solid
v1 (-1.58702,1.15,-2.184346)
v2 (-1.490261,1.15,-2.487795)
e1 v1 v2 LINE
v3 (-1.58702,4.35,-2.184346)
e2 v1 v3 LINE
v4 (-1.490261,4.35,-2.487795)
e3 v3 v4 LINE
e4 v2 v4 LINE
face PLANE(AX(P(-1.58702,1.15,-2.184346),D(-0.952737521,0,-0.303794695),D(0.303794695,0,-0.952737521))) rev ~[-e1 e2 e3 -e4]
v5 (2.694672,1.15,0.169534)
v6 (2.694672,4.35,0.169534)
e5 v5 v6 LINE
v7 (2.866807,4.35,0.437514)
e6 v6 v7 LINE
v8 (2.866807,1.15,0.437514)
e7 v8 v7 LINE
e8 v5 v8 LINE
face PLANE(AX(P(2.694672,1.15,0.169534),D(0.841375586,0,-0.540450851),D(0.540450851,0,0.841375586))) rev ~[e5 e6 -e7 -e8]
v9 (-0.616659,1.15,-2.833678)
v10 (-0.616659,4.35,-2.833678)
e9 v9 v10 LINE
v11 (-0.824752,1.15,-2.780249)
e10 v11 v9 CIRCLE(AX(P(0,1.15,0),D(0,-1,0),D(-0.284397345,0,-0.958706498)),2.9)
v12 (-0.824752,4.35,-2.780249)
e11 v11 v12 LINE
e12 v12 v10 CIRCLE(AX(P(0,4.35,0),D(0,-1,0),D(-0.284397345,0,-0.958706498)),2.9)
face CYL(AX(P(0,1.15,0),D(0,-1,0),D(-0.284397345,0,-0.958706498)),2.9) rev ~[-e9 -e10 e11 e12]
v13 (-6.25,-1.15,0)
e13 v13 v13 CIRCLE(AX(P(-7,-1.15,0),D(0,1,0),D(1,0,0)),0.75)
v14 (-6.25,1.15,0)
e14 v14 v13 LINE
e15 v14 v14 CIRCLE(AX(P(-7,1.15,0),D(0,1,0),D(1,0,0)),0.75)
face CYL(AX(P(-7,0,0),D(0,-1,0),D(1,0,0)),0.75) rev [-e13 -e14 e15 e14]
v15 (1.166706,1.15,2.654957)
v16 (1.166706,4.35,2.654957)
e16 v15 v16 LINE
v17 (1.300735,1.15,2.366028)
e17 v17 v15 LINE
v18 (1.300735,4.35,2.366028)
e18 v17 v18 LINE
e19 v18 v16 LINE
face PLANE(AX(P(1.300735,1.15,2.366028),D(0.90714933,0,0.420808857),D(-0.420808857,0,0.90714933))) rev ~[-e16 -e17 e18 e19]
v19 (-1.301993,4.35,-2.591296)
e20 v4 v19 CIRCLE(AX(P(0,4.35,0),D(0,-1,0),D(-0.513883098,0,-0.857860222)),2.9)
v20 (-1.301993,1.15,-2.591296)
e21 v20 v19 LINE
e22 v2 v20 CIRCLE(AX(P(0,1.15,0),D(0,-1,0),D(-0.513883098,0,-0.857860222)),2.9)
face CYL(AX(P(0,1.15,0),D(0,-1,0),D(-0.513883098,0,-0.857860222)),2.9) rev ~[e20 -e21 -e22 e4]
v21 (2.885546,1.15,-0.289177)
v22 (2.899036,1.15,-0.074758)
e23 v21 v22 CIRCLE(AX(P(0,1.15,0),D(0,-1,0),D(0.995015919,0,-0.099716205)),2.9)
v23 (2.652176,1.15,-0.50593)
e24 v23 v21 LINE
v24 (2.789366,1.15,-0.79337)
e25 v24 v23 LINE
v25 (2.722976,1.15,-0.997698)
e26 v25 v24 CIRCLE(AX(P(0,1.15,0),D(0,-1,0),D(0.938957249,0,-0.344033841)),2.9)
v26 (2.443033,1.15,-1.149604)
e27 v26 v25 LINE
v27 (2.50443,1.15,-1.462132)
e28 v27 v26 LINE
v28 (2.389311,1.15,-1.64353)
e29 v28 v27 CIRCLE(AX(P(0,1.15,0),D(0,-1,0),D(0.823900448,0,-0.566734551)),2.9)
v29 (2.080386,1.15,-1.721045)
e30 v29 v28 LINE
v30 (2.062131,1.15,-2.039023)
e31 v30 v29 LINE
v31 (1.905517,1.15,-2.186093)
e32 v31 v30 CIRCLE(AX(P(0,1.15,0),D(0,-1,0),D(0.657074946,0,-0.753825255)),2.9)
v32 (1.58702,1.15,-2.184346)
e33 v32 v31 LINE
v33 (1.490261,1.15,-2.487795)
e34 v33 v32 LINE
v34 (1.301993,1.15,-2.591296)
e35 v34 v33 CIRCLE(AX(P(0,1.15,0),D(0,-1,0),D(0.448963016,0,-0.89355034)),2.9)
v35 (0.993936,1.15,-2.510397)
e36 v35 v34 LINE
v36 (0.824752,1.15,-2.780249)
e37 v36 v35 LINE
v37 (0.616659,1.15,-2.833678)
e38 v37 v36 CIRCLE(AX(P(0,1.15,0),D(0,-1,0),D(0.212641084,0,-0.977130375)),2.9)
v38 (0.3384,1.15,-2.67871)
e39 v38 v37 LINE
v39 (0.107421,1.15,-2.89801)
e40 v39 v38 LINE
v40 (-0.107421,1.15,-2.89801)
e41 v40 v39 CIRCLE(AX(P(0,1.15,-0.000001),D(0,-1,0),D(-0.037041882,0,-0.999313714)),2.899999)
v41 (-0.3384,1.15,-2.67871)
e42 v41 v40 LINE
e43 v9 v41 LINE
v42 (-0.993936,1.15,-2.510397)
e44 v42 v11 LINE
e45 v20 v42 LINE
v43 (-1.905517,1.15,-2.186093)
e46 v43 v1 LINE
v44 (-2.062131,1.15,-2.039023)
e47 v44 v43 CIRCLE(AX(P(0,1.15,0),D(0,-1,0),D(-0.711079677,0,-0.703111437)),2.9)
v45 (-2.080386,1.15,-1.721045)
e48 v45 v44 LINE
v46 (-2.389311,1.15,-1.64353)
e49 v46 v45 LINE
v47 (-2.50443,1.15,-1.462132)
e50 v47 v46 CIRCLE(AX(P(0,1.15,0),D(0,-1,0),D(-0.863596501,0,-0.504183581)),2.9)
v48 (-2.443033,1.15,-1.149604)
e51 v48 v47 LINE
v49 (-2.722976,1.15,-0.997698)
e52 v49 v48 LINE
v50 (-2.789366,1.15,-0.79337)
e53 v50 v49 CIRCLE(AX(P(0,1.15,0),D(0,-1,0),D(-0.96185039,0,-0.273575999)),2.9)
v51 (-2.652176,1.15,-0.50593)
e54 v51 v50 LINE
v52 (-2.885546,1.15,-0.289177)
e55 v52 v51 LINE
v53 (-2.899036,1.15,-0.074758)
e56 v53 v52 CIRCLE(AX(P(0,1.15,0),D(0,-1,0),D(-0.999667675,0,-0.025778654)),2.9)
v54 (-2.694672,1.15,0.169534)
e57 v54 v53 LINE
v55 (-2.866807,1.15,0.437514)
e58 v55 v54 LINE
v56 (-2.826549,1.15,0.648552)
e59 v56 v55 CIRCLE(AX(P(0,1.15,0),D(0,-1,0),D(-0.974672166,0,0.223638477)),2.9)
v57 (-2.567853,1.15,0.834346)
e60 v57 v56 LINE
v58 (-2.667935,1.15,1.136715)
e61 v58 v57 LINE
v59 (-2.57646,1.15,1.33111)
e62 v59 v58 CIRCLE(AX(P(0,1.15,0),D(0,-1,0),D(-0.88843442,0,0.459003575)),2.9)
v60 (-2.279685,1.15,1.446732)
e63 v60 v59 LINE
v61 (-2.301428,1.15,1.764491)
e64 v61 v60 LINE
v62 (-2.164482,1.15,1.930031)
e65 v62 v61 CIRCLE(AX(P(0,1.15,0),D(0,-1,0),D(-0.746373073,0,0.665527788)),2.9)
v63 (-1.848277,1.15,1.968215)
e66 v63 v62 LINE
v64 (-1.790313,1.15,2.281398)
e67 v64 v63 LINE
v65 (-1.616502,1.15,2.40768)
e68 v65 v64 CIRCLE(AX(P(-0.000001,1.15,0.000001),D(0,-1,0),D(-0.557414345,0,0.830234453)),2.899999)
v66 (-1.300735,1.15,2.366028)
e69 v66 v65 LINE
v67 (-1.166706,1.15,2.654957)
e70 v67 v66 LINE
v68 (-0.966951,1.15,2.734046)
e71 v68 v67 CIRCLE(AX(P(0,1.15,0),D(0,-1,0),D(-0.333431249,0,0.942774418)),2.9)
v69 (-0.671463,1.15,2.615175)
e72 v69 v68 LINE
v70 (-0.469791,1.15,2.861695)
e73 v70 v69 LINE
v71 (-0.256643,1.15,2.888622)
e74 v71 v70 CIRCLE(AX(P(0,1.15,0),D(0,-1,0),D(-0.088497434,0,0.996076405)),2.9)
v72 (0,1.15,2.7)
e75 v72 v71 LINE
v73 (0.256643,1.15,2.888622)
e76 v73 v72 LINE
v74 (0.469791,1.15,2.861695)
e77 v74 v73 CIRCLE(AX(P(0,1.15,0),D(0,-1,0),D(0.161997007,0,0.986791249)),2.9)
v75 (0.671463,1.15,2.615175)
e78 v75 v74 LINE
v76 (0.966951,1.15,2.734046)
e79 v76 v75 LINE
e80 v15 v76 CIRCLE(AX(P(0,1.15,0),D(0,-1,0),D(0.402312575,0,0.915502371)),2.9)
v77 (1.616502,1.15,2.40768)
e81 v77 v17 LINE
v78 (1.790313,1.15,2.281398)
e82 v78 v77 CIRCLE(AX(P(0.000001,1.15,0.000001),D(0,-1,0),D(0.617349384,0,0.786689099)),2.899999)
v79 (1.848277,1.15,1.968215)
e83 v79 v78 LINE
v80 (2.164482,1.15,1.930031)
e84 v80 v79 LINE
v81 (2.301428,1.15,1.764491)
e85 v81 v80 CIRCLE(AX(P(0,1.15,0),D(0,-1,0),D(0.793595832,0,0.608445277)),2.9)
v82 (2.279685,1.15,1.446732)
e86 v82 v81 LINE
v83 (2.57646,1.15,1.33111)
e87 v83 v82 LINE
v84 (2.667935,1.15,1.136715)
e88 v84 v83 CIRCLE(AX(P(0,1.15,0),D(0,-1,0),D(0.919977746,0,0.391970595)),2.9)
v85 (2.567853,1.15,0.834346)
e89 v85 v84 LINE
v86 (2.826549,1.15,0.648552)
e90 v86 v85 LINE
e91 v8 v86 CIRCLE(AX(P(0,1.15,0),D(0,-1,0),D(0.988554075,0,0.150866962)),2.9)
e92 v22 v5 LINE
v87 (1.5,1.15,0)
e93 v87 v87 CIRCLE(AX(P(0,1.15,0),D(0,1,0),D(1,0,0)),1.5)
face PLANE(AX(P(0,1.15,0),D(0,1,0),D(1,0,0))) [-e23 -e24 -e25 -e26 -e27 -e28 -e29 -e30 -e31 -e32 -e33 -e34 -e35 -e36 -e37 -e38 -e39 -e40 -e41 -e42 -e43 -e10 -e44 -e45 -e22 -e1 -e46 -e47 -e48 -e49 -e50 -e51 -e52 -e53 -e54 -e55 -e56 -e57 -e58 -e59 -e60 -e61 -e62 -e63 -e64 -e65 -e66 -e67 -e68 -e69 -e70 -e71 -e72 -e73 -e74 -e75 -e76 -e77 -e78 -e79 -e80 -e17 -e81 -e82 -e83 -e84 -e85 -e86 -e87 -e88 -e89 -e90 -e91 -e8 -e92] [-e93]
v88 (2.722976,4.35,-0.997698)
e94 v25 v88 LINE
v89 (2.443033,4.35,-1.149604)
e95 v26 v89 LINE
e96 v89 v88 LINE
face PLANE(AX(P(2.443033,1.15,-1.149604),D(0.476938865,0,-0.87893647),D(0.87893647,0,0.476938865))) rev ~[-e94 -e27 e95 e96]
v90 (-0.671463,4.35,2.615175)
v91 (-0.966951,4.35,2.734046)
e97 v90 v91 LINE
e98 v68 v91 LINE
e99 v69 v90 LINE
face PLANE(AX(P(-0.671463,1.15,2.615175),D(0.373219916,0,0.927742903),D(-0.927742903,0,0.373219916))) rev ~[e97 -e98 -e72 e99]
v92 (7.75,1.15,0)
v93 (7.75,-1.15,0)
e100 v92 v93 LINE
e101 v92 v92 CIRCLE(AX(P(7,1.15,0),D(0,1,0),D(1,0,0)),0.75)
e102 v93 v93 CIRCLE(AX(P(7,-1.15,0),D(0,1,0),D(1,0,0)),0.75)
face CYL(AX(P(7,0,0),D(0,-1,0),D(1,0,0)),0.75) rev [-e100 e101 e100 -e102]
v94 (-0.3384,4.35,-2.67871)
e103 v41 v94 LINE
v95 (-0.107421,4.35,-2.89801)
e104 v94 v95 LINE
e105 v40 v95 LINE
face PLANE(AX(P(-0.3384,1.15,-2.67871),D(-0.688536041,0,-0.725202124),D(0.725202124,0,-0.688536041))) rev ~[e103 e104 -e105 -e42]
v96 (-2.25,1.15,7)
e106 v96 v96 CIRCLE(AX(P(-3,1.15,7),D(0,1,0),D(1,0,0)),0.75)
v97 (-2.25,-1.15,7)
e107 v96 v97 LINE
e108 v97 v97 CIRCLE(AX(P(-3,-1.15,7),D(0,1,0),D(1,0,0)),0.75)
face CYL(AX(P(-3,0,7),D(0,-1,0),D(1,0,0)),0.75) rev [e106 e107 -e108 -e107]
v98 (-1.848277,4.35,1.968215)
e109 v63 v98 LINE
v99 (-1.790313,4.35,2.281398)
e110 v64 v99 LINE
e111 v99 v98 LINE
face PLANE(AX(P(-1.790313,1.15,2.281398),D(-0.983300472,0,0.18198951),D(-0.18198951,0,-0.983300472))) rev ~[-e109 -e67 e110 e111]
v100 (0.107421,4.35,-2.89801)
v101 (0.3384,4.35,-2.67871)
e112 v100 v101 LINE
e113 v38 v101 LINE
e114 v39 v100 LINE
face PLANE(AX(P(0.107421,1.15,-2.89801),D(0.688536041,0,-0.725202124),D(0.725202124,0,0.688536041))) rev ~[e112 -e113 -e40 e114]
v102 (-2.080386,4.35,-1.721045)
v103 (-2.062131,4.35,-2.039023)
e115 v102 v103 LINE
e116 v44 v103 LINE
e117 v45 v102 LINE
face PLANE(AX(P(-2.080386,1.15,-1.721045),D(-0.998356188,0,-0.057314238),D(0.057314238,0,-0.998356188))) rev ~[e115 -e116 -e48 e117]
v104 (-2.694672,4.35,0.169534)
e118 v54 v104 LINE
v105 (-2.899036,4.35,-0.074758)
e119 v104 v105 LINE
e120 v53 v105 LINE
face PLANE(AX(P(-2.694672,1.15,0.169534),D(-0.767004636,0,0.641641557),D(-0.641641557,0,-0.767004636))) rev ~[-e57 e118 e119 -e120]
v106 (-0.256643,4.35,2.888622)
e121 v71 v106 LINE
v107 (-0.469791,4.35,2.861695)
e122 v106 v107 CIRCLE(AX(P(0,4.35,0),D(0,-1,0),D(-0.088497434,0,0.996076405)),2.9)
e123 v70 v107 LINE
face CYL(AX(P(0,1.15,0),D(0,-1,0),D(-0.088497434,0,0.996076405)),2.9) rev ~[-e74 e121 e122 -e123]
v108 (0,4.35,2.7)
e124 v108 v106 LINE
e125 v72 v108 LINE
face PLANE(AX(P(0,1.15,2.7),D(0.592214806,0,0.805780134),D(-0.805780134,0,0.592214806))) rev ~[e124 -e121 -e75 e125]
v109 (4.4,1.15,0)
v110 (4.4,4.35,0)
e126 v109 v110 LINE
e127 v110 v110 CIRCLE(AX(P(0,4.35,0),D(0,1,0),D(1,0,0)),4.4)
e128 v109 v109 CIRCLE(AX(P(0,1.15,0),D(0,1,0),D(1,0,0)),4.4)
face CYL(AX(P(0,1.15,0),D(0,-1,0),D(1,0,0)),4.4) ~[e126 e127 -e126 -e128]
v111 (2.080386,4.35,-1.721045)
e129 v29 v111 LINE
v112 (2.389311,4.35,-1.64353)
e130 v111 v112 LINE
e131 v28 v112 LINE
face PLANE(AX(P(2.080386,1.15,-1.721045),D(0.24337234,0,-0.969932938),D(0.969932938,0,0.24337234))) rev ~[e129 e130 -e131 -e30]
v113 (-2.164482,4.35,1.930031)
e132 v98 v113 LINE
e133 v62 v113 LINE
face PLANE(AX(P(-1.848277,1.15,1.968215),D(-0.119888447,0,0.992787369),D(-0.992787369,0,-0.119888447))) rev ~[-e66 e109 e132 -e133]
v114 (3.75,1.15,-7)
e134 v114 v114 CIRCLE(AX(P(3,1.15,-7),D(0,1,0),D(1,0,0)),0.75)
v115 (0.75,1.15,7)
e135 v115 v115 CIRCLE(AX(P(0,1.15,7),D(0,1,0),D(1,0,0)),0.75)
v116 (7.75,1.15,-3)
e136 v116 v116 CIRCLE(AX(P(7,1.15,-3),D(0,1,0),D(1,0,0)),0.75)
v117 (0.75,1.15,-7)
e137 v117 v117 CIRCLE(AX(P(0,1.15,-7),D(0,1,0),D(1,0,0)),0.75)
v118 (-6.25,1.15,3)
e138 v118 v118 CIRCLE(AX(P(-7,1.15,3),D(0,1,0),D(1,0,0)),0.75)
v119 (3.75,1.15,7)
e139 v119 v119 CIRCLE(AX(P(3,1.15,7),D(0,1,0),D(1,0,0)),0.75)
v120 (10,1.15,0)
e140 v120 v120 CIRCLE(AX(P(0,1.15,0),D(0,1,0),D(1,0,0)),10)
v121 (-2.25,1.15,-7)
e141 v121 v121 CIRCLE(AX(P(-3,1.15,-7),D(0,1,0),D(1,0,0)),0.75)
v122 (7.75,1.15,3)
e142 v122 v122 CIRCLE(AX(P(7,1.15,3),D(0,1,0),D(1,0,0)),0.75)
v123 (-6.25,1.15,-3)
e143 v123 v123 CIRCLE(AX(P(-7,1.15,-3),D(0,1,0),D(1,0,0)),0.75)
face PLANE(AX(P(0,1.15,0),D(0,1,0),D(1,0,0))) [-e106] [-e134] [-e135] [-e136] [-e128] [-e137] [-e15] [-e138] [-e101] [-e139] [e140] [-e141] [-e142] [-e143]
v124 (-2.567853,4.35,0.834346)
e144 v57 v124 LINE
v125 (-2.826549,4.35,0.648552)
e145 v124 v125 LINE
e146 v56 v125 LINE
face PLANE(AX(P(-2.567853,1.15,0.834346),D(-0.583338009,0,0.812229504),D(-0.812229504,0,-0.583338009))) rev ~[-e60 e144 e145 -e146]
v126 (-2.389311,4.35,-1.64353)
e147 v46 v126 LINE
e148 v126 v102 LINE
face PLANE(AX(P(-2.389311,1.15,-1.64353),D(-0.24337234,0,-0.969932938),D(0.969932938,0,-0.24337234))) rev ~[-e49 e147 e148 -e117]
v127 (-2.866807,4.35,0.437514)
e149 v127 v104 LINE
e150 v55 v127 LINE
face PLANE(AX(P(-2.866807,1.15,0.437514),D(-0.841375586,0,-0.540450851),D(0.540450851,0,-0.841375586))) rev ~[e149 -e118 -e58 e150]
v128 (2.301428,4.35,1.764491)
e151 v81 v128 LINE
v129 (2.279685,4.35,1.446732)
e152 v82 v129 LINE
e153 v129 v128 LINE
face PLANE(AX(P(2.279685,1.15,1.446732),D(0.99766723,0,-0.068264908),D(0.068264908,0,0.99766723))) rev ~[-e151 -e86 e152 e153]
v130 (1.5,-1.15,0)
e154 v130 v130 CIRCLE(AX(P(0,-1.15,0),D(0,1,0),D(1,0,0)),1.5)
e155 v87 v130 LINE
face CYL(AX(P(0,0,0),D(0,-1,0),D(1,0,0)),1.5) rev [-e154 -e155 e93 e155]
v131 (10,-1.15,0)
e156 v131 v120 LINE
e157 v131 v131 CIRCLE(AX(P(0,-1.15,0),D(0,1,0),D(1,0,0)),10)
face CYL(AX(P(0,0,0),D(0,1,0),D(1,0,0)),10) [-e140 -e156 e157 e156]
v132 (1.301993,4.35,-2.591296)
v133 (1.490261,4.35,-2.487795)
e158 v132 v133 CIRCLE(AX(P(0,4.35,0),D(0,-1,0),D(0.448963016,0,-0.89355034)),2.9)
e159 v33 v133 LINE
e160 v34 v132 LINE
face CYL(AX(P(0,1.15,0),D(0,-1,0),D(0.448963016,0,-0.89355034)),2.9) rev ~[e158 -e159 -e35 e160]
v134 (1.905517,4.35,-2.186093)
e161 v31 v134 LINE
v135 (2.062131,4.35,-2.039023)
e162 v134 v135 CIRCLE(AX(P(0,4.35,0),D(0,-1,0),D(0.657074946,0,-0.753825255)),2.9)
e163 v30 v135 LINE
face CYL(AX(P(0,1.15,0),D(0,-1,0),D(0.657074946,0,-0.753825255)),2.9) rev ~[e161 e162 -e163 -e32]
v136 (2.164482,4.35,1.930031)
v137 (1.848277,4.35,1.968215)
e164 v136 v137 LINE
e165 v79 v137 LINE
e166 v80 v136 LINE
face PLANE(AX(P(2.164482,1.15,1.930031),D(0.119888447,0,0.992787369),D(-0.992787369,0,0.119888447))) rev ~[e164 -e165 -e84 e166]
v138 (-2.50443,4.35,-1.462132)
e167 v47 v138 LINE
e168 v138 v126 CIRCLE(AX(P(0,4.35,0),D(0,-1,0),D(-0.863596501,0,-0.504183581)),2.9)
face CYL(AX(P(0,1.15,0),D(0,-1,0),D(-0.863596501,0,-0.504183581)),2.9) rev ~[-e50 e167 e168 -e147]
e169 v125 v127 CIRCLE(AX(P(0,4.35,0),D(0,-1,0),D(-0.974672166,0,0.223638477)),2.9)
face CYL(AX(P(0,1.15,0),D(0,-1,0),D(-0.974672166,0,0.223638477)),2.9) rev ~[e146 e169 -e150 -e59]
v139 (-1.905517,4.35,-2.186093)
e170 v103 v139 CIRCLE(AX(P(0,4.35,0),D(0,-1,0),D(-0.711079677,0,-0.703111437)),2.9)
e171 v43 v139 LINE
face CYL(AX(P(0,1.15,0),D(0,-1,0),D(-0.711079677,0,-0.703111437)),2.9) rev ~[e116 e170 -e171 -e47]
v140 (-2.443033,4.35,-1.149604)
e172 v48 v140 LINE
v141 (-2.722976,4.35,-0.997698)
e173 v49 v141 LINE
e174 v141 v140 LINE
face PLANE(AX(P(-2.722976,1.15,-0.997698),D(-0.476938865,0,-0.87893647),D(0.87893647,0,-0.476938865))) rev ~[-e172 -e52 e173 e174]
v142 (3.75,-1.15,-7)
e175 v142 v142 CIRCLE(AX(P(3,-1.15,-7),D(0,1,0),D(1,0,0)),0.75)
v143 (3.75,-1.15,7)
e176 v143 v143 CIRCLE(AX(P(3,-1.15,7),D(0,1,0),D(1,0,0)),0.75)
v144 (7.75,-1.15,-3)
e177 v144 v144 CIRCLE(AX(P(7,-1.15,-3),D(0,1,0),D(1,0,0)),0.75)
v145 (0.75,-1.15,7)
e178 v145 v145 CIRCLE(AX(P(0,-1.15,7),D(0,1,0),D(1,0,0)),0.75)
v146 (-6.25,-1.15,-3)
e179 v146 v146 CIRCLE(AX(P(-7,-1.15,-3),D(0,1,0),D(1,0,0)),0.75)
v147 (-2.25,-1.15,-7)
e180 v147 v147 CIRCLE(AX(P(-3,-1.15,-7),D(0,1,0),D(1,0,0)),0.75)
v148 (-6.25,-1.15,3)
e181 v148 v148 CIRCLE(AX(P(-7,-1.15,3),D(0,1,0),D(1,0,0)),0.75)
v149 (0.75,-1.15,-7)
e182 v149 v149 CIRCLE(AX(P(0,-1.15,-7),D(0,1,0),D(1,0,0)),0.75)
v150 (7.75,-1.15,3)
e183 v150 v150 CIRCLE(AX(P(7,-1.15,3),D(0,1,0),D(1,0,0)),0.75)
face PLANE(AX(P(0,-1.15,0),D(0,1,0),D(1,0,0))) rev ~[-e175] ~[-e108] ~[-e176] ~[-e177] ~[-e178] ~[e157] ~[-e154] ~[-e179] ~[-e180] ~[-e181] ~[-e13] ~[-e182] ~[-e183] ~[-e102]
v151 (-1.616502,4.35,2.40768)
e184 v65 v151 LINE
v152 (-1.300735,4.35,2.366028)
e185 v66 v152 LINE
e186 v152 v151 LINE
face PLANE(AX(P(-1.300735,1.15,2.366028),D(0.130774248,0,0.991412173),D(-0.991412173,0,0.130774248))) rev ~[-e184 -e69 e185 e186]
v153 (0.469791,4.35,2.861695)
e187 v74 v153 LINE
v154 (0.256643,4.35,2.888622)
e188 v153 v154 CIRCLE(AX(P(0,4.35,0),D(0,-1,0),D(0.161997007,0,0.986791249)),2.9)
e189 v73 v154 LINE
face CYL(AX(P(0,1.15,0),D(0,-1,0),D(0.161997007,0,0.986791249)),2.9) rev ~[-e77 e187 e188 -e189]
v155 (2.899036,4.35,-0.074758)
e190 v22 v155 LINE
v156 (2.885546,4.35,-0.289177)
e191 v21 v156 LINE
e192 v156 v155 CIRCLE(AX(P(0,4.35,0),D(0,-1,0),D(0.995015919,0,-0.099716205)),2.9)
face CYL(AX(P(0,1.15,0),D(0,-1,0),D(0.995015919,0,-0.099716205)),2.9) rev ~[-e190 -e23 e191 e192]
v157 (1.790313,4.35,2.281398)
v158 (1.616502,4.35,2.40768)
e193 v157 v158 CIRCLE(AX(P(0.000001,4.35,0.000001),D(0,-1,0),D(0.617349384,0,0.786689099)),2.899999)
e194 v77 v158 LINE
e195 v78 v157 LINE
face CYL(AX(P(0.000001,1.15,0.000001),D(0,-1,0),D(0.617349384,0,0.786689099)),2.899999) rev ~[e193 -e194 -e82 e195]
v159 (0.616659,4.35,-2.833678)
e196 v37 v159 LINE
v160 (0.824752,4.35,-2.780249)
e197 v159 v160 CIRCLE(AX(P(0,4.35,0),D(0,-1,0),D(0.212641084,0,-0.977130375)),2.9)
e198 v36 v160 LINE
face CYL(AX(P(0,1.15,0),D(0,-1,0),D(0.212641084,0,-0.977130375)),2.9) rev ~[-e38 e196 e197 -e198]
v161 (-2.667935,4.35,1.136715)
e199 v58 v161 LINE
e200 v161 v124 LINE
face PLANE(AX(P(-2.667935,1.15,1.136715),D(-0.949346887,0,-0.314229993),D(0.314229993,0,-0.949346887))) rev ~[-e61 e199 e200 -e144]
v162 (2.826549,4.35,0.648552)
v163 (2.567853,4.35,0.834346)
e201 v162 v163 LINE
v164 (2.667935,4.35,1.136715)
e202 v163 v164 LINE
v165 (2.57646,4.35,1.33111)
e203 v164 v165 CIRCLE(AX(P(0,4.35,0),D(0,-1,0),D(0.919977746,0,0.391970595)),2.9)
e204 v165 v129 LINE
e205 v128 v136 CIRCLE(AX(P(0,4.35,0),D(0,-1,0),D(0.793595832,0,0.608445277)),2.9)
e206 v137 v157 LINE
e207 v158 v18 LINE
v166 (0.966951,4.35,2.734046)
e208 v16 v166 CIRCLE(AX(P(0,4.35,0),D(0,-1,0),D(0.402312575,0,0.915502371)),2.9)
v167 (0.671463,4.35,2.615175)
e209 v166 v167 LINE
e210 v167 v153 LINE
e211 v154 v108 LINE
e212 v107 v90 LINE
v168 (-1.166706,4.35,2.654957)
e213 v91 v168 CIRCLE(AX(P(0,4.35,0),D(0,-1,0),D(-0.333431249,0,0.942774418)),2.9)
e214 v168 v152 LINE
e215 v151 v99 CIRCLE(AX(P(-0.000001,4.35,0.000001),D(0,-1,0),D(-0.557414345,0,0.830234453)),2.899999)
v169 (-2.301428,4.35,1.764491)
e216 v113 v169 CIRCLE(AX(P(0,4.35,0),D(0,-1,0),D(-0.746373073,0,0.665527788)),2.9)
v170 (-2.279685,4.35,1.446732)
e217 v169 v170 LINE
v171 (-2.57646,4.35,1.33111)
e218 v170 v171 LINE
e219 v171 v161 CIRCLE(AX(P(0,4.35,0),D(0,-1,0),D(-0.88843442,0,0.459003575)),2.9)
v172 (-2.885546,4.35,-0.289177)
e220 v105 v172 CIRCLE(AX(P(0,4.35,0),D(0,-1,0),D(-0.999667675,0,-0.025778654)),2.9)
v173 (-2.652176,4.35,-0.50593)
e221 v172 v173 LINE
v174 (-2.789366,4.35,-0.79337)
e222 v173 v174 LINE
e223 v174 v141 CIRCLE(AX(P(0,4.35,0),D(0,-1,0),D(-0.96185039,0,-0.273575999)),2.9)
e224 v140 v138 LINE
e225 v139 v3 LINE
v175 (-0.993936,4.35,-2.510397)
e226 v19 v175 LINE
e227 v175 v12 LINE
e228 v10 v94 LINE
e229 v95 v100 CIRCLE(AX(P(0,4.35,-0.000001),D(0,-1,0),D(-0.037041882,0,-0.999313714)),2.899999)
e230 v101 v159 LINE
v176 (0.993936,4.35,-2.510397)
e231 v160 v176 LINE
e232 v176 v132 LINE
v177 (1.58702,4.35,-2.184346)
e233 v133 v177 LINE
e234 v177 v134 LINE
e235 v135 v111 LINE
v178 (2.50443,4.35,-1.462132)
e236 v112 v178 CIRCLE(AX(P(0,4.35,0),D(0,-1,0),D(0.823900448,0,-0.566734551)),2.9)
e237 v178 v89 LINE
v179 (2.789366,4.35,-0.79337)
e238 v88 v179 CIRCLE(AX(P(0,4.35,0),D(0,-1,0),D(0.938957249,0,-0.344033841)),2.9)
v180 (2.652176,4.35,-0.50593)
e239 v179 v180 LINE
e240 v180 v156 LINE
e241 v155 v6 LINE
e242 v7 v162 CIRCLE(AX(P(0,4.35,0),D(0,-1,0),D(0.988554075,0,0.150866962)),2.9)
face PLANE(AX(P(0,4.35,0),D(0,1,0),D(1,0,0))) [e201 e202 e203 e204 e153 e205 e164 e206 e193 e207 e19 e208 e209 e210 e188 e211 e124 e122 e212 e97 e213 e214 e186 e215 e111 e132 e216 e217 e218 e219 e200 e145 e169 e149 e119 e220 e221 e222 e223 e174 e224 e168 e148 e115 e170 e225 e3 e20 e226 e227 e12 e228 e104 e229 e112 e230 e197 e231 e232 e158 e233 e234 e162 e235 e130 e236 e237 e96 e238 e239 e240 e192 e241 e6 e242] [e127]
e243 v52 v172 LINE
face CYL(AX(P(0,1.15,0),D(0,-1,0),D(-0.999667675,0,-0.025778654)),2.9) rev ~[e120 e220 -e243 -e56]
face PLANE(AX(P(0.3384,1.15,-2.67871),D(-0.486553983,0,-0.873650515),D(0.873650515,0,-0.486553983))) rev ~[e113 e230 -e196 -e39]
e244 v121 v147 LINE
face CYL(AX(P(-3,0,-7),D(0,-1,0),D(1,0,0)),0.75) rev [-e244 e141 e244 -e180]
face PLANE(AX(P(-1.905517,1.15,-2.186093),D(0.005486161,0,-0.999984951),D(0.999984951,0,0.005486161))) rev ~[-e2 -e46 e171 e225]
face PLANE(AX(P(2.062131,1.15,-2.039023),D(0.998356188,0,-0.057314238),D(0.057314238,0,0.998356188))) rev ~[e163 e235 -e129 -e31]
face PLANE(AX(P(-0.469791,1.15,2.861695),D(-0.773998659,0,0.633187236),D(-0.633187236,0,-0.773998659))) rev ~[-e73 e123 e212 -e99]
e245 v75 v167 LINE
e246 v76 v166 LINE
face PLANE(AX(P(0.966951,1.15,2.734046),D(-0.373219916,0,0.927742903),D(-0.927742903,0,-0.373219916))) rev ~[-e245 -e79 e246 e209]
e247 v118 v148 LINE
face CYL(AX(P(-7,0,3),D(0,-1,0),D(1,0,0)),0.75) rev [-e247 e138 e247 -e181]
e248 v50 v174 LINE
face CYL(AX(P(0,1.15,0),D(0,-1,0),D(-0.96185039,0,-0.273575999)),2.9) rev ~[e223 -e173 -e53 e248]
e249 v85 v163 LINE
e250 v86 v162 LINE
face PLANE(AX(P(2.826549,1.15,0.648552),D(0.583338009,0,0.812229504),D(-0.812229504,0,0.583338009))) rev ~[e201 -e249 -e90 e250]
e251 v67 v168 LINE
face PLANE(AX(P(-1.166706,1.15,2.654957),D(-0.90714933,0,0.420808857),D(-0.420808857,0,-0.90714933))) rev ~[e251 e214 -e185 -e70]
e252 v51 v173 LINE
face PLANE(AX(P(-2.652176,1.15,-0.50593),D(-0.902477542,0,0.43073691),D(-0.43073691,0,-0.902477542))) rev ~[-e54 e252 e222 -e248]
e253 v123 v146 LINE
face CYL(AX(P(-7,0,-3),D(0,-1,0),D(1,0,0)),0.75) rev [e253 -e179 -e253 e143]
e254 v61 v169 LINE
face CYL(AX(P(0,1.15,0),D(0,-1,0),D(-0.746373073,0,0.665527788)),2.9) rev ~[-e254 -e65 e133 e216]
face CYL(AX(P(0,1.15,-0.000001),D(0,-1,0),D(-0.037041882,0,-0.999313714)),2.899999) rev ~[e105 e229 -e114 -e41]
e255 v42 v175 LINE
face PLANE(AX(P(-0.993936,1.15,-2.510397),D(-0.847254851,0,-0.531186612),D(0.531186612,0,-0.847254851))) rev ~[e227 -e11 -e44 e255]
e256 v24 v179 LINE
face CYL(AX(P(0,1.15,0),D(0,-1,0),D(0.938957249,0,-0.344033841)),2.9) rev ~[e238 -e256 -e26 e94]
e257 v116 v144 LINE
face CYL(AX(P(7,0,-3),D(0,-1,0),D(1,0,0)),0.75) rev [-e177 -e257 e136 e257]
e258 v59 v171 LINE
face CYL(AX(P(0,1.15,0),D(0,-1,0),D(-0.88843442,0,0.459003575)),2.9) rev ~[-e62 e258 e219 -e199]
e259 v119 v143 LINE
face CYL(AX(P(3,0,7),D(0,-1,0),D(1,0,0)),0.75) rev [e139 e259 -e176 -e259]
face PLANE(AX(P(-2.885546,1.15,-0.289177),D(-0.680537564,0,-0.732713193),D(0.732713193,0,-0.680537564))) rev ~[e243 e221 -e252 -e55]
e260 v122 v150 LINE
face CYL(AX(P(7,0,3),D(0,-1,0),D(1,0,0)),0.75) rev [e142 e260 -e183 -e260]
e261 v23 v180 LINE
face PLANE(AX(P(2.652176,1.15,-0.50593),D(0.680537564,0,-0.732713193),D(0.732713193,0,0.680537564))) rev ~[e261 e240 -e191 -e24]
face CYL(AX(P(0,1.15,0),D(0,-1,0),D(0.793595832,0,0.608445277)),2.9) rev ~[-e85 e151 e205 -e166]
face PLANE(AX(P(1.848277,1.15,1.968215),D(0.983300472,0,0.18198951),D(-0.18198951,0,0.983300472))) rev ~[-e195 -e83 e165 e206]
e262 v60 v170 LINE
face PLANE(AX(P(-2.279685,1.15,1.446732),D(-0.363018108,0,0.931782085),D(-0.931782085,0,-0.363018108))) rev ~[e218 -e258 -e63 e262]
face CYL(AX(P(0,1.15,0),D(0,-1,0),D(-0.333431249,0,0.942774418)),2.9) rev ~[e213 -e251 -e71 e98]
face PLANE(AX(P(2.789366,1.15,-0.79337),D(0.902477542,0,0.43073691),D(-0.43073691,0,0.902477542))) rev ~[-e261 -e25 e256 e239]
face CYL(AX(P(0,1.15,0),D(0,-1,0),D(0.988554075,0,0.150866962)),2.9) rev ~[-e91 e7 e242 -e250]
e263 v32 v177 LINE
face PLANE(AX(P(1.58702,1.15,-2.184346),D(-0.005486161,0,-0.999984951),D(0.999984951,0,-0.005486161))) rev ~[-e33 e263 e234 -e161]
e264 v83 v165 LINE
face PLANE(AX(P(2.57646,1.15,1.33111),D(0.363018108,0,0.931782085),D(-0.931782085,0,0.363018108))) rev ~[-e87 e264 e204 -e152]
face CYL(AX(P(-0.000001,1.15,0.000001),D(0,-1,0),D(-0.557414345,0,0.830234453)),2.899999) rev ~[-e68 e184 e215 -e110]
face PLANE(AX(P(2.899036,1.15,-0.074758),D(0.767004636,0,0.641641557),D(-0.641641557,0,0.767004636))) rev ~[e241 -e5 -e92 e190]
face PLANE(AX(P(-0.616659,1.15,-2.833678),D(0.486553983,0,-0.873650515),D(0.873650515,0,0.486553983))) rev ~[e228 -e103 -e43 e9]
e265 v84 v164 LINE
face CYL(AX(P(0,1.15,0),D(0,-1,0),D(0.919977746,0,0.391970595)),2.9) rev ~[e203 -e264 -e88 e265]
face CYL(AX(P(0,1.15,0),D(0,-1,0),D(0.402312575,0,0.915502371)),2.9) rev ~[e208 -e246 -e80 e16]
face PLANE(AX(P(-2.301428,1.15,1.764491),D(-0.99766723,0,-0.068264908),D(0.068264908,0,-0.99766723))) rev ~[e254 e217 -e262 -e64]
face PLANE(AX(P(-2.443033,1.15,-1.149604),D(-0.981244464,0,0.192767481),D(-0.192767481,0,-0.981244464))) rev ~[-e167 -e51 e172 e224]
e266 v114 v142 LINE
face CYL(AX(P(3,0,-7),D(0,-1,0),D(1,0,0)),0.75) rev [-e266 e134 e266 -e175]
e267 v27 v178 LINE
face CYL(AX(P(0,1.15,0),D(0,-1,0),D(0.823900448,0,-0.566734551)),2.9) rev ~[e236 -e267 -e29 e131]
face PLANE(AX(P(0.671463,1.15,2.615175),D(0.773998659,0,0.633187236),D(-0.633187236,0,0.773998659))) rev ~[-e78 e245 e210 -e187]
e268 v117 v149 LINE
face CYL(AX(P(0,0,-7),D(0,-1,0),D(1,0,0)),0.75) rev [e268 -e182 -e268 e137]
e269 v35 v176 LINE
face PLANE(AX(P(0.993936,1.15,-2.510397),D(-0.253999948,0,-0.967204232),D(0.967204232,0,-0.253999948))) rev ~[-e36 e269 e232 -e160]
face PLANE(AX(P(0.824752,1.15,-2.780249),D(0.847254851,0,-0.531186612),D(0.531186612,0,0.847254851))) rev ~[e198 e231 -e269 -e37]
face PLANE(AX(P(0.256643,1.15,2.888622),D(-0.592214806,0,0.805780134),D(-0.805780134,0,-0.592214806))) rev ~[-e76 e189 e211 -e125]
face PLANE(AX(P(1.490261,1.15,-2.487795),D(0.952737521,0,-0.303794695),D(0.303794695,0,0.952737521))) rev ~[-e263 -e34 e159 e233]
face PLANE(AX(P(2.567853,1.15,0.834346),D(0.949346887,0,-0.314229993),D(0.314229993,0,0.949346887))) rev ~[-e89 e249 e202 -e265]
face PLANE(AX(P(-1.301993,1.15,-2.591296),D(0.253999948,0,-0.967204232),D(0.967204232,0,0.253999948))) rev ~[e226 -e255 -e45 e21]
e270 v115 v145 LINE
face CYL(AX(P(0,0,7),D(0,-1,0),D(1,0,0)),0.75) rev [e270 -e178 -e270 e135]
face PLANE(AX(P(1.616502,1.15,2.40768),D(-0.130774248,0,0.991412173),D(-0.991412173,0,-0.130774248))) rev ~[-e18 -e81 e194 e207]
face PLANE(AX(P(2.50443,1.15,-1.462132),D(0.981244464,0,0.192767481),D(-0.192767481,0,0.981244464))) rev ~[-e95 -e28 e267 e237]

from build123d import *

# Parameters (mm, degrees)
SKETCH2_R           = 6
SKETCH2_R_2         = 1.5
BOSS_EXTRUDE1_DEPTH = 1.15
SKETCH3_R           = 4.4
BOSS_EXTRUDE2_DEPTH = 3.2
SKETCH5_R           = 10
SKETCH5_R_2         = 0.75
SKETCH5_R_3         = 1.5
BOSS_EXTRUDE4_DEPTH = 1.15


with BuildPart() as part:
    # Sketch2 → Boss-Extrude1 (new body, symmetric)
    with BuildSketch(Plane(origin=(0, 0, 0), x_dir=(1, 0, 0), z_dir=(0, 1, 0))):
        Circle(SKETCH2_R)
        Circle(SKETCH2_R_2, mode=Mode.SUBTRACT)
    extrude(amount=BOSS_EXTRUDE1_DEPTH, both=True)

    # Sketch3 → Boss-Extrude2 (add)
    with BuildSketch(Plane(origin=(0, 1.15, 0), x_dir=(1, 0, 0), z_dir=(0, 1, 0))):
        Circle(SKETCH3_R)
        with BuildLine():
            Line((0.107421435, 2.898009771), (0.338399731, 2.678709694))
            Line((0.338399731, 2.678709694), (0.61665913, 2.83367809))
            ThreePointArc((0.61665913, 2.83367809), (0.721200673, 2.808891167), (0.824752316, 2.780248841))
            Line((0.824752316, 2.780248841), (0.993936292, 2.510396512))
            Line((0.993936292, 2.510396512), (1.301992734, 2.591295993))
            ThreePointArc((1.301992734, 2.591295993), (1.397085655, 2.541289372), (1.490260976, 2.48779465))
            Line((1.490260976, 2.48779465), (1.587020181, 2.184345885))
            Line((1.587020181, 2.184345885), (1.905517346, 2.186093238))
            ThreePointArc((1.905517346, 2.186093238), (1.985186607, 2.11400902), (2.062131058, 2.039023173))
            Line((2.062131058, 2.039023173), (2.080385755, 1.721044772))
            Line((2.080385755, 1.721044772), (2.389311295, 1.643530205))
            ThreePointArc((2.389311295, 1.643530205), (2.448550984, 1.553897705), (2.504429862, 1.46213237))
            Line((2.504429862, 1.46213237), (2.443033042, 1.149604087))
            Line((2.443033042, 1.149604087), (2.722976028, 0.997698125))
            ThreePointArc((2.722976028, 0.997698125), (2.758063897, 0.896149284), (2.789366126, 0.793370413))
            Line((2.789366126, 0.793370413), (2.652175577, 0.505929549))
            Line((2.652175577, 0.505929549), (2.885546163, 0.289177003))
            ThreePointArc((2.885546163, 0.289177003), (2.894277512, 0.182092507), (2.899036259, 0.074758075))
            Line((2.899036259, 0.074758075), (2.694672167, -0.169534403))
            Line((2.694672167, -0.169534403), (2.866806821, -0.437514174))
            ThreePointArc((2.866806821, -0.437514174), (2.848633027, -0.543405812), (2.826549281, -0.648551587))
            Line((2.826549281, -0.648551587), (2.567852594, -0.834345885))
            Line((2.567852594, -0.834345885), (2.667935462, -1.136714727))
            ThreePointArc((2.667935462, -1.136714727), (2.623998452, -1.234759946), (2.576459817, -1.331110368))
            Line((2.576459817, -1.331110368), (2.279685399, -1.446732346))
            Line((2.279685399, -1.446732346), (2.301427906, -1.764491312))
            ThreePointArc((2.301427906, -1.764491312), (2.234488404, -1.84852957), (2.164481907, -1.930030589))
            Line((2.164481907, -1.930030589), (1.848277186, -1.968215294))
            Line((1.848277186, -1.968215294), (1.790313171, -2.281398419))
            ThreePointArc((1.790313171, -2.281398419), (1.704577232, -2.346149284), (1.616501638, -2.40767989))
            Line((1.616501638, -2.40767989), (1.30073492, -2.366028036))
            Line((1.30073492, -2.366028036), (1.166706475, -2.654956874))
            ThreePointArc((1.166706475, -2.654956874), (1.067561203, -2.696351809), (0.966950626, -2.734045809))
            Line((0.966950626, -2.734045809), (0.671462695, -2.615174535))
            Line((0.671462695, -2.615174535), (0.469791321, -2.861694623))
            ThreePointArc((0.469791321, -2.861694623), (0.363466377, -2.877132634), (0.25664255, -2.888621575))
            Line((0.25664255, -2.888621575), (0, -2.7))
            Line((0, -2.7), (-0.25664255, -2.888621575))
            ThreePointArc((-0.25664255, -2.888621575), (-0.363466377, -2.877132634), (-0.469791321, -2.861694623))
            Line((-0.469791321, -2.861694623), (-0.671462695, -2.615174535))
            Line((-0.671462695, -2.615174535), (-0.966950626, -2.734045809))
            ThreePointArc((-0.966950626, -2.734045809), (-1.067561203, -2.696351809), (-1.166706475, -2.654956874))
            Line((-1.166706475, -2.654956874), (-1.30073492, -2.366028036))
            Line((-1.30073492, -2.366028036), (-1.616501638, -2.40767989))
            ThreePointArc((-1.616501638, -2.40767989), (-1.704577232, -2.346149284), (-1.790313171, -2.281398419))
            Line((-1.790313171, -2.281398419), (-1.848277186, -1.968215294))
            Line((-1.848277186, -1.968215294), (-2.164481907, -1.930030589))
            ThreePointArc((-2.164481907, -1.930030589), (-2.234488404, -1.84852957), (-2.301427906, -1.764491312))
            Line((-2.301427906, -1.764491312), (-2.279685399, -1.446732346))
            Line((-2.279685399, -1.446732346), (-2.576459817, -1.331110368))
            ThreePointArc((-2.576459817, -1.331110368), (-2.623998452, -1.234759946), (-2.667935462, -1.136714727))
            Line((-2.667935462, -1.136714727), (-2.567852594, -0.834345885))
            Line((-2.567852594, -0.834345885), (-2.826549281, -0.648551587))
            ThreePointArc((-2.826549281, -0.648551587), (-2.848633027, -0.543405812), (-2.866806821, -0.437514174))
            Line((-2.866806821, -0.437514174), (-2.694672167, -0.169534403))
            Line((-2.694672167, -0.169534403), (-2.899036259, 0.074758075))
            ThreePointArc((-2.899036259, 0.074758075), (-2.894277512, 0.182092507), (-2.885546163, 0.289177003))
            Line((-2.885546163, 0.289177003), (-2.652175577, 0.505929549))
            Line((-2.652175577, 0.505929549), (-2.789366126, 0.793370413))
            ThreePointArc((-2.789366126, 0.793370413), (-2.758063897, 0.896149284), (-2.722976028, 0.997698125))
            Line((-2.722976028, 0.997698125), (-2.443033042, 1.149604087))
            Line((-2.443033042, 1.149604087), (-2.504429862, 1.46213237))
            ThreePointArc((-2.504429862, 1.46213237), (-2.448550984, 1.553897705), (-2.389311295, 1.643530205))
            Line((-2.389311295, 1.643530205), (-2.080385755, 1.721044772))
            Line((-2.080385755, 1.721044772), (-2.062131058, 2.039023173))
            ThreePointArc((-2.062131058, 2.039023173), (-1.985186607, 2.11400902), (-1.905517346, 2.186093238))
            Line((-1.905517346, 2.186093238), (-1.587020181, 2.184345885))
            Line((-1.587020181, 2.184345885), (-1.490260976, 2.48779465))
            ThreePointArc((-1.490260976, 2.48779465), (-1.397085655, 2.541289372), (-1.301992734, 2.591295993))
            Line((-1.301992734, 2.591295993), (-0.993936292, 2.510396512))
            Line((-0.993936292, 2.510396512), (-0.824752316, 2.780248841))
            ThreePointArc((-0.824752316, 2.780248841), (-0.721200673, 2.808891167), (-0.61665913, 2.83367809))
            Line((-0.61665913, 2.83367809), (-0.338399731, 2.678709694))
            Line((-0.338399731, 2.678709694), (-0.107421435, 2.898009771))
            ThreePointArc((-0.107421435, 2.898009771), (0, 2.9), (0.107421435, 2.898009771))
        make_face(mode=Mode.SUBTRACT)
    extrude(amount=BOSS_EXTRUDE2_DEPTH)

    # Sketch5 → Boss-Extrude4 (add, symmetric)
    with BuildSketch(Plane(origin=(0, 0, 0), x_dir=(1, 0, 0), z_dir=(0, 1, 0))):
        Circle(SKETCH5_R)
        with Locations((0, 7)):
            Circle(SKETCH5_R_2, mode=Mode.SUBTRACT)
        with Locations((-3, 7)):
            Circle(SKETCH5_R_2, mode=Mode.SUBTRACT)
        with Locations((3, 7)):
            Circle(SKETCH5_R_2, mode=Mode.SUBTRACT)
        with Locations((7, 3)):
            Circle(SKETCH5_R_2, mode=Mode.SUBTRACT)
        with Locations((7, 0)):
            Circle(SKETCH5_R_2, mode=Mode.SUBTRACT)
        with Locations((7, -3)):
            Circle(SKETCH5_R_2, mode=Mode.SUBTRACT)
        with Locations((3, -7)):
            Circle(SKETCH5_R_2, mode=Mode.SUBTRACT)
        with Locations((0, -7)):
            Circle(SKETCH5_R_2, mode=Mode.SUBTRACT)
        with Locations((-3, -7)):
            Circle(SKETCH5_R_2, mode=Mode.SUBTRACT)
        with Locations((-7, -3)):
            Circle(SKETCH5_R_2, mode=Mode.SUBTRACT)
        with Locations((-7, 0)):
            Circle(SKETCH5_R_2, mode=Mode.SUBTRACT)
        with Locations((-7, 3)):
            Circle(SKETCH5_R_2, mode=Mode.SUBTRACT)
        Circle(SKETCH5_R_3, mode=Mode.SUBTRACT)
    extrude(amount=BOSS_EXTRUDE4_DEPTH, both=True)


solid = part.part
